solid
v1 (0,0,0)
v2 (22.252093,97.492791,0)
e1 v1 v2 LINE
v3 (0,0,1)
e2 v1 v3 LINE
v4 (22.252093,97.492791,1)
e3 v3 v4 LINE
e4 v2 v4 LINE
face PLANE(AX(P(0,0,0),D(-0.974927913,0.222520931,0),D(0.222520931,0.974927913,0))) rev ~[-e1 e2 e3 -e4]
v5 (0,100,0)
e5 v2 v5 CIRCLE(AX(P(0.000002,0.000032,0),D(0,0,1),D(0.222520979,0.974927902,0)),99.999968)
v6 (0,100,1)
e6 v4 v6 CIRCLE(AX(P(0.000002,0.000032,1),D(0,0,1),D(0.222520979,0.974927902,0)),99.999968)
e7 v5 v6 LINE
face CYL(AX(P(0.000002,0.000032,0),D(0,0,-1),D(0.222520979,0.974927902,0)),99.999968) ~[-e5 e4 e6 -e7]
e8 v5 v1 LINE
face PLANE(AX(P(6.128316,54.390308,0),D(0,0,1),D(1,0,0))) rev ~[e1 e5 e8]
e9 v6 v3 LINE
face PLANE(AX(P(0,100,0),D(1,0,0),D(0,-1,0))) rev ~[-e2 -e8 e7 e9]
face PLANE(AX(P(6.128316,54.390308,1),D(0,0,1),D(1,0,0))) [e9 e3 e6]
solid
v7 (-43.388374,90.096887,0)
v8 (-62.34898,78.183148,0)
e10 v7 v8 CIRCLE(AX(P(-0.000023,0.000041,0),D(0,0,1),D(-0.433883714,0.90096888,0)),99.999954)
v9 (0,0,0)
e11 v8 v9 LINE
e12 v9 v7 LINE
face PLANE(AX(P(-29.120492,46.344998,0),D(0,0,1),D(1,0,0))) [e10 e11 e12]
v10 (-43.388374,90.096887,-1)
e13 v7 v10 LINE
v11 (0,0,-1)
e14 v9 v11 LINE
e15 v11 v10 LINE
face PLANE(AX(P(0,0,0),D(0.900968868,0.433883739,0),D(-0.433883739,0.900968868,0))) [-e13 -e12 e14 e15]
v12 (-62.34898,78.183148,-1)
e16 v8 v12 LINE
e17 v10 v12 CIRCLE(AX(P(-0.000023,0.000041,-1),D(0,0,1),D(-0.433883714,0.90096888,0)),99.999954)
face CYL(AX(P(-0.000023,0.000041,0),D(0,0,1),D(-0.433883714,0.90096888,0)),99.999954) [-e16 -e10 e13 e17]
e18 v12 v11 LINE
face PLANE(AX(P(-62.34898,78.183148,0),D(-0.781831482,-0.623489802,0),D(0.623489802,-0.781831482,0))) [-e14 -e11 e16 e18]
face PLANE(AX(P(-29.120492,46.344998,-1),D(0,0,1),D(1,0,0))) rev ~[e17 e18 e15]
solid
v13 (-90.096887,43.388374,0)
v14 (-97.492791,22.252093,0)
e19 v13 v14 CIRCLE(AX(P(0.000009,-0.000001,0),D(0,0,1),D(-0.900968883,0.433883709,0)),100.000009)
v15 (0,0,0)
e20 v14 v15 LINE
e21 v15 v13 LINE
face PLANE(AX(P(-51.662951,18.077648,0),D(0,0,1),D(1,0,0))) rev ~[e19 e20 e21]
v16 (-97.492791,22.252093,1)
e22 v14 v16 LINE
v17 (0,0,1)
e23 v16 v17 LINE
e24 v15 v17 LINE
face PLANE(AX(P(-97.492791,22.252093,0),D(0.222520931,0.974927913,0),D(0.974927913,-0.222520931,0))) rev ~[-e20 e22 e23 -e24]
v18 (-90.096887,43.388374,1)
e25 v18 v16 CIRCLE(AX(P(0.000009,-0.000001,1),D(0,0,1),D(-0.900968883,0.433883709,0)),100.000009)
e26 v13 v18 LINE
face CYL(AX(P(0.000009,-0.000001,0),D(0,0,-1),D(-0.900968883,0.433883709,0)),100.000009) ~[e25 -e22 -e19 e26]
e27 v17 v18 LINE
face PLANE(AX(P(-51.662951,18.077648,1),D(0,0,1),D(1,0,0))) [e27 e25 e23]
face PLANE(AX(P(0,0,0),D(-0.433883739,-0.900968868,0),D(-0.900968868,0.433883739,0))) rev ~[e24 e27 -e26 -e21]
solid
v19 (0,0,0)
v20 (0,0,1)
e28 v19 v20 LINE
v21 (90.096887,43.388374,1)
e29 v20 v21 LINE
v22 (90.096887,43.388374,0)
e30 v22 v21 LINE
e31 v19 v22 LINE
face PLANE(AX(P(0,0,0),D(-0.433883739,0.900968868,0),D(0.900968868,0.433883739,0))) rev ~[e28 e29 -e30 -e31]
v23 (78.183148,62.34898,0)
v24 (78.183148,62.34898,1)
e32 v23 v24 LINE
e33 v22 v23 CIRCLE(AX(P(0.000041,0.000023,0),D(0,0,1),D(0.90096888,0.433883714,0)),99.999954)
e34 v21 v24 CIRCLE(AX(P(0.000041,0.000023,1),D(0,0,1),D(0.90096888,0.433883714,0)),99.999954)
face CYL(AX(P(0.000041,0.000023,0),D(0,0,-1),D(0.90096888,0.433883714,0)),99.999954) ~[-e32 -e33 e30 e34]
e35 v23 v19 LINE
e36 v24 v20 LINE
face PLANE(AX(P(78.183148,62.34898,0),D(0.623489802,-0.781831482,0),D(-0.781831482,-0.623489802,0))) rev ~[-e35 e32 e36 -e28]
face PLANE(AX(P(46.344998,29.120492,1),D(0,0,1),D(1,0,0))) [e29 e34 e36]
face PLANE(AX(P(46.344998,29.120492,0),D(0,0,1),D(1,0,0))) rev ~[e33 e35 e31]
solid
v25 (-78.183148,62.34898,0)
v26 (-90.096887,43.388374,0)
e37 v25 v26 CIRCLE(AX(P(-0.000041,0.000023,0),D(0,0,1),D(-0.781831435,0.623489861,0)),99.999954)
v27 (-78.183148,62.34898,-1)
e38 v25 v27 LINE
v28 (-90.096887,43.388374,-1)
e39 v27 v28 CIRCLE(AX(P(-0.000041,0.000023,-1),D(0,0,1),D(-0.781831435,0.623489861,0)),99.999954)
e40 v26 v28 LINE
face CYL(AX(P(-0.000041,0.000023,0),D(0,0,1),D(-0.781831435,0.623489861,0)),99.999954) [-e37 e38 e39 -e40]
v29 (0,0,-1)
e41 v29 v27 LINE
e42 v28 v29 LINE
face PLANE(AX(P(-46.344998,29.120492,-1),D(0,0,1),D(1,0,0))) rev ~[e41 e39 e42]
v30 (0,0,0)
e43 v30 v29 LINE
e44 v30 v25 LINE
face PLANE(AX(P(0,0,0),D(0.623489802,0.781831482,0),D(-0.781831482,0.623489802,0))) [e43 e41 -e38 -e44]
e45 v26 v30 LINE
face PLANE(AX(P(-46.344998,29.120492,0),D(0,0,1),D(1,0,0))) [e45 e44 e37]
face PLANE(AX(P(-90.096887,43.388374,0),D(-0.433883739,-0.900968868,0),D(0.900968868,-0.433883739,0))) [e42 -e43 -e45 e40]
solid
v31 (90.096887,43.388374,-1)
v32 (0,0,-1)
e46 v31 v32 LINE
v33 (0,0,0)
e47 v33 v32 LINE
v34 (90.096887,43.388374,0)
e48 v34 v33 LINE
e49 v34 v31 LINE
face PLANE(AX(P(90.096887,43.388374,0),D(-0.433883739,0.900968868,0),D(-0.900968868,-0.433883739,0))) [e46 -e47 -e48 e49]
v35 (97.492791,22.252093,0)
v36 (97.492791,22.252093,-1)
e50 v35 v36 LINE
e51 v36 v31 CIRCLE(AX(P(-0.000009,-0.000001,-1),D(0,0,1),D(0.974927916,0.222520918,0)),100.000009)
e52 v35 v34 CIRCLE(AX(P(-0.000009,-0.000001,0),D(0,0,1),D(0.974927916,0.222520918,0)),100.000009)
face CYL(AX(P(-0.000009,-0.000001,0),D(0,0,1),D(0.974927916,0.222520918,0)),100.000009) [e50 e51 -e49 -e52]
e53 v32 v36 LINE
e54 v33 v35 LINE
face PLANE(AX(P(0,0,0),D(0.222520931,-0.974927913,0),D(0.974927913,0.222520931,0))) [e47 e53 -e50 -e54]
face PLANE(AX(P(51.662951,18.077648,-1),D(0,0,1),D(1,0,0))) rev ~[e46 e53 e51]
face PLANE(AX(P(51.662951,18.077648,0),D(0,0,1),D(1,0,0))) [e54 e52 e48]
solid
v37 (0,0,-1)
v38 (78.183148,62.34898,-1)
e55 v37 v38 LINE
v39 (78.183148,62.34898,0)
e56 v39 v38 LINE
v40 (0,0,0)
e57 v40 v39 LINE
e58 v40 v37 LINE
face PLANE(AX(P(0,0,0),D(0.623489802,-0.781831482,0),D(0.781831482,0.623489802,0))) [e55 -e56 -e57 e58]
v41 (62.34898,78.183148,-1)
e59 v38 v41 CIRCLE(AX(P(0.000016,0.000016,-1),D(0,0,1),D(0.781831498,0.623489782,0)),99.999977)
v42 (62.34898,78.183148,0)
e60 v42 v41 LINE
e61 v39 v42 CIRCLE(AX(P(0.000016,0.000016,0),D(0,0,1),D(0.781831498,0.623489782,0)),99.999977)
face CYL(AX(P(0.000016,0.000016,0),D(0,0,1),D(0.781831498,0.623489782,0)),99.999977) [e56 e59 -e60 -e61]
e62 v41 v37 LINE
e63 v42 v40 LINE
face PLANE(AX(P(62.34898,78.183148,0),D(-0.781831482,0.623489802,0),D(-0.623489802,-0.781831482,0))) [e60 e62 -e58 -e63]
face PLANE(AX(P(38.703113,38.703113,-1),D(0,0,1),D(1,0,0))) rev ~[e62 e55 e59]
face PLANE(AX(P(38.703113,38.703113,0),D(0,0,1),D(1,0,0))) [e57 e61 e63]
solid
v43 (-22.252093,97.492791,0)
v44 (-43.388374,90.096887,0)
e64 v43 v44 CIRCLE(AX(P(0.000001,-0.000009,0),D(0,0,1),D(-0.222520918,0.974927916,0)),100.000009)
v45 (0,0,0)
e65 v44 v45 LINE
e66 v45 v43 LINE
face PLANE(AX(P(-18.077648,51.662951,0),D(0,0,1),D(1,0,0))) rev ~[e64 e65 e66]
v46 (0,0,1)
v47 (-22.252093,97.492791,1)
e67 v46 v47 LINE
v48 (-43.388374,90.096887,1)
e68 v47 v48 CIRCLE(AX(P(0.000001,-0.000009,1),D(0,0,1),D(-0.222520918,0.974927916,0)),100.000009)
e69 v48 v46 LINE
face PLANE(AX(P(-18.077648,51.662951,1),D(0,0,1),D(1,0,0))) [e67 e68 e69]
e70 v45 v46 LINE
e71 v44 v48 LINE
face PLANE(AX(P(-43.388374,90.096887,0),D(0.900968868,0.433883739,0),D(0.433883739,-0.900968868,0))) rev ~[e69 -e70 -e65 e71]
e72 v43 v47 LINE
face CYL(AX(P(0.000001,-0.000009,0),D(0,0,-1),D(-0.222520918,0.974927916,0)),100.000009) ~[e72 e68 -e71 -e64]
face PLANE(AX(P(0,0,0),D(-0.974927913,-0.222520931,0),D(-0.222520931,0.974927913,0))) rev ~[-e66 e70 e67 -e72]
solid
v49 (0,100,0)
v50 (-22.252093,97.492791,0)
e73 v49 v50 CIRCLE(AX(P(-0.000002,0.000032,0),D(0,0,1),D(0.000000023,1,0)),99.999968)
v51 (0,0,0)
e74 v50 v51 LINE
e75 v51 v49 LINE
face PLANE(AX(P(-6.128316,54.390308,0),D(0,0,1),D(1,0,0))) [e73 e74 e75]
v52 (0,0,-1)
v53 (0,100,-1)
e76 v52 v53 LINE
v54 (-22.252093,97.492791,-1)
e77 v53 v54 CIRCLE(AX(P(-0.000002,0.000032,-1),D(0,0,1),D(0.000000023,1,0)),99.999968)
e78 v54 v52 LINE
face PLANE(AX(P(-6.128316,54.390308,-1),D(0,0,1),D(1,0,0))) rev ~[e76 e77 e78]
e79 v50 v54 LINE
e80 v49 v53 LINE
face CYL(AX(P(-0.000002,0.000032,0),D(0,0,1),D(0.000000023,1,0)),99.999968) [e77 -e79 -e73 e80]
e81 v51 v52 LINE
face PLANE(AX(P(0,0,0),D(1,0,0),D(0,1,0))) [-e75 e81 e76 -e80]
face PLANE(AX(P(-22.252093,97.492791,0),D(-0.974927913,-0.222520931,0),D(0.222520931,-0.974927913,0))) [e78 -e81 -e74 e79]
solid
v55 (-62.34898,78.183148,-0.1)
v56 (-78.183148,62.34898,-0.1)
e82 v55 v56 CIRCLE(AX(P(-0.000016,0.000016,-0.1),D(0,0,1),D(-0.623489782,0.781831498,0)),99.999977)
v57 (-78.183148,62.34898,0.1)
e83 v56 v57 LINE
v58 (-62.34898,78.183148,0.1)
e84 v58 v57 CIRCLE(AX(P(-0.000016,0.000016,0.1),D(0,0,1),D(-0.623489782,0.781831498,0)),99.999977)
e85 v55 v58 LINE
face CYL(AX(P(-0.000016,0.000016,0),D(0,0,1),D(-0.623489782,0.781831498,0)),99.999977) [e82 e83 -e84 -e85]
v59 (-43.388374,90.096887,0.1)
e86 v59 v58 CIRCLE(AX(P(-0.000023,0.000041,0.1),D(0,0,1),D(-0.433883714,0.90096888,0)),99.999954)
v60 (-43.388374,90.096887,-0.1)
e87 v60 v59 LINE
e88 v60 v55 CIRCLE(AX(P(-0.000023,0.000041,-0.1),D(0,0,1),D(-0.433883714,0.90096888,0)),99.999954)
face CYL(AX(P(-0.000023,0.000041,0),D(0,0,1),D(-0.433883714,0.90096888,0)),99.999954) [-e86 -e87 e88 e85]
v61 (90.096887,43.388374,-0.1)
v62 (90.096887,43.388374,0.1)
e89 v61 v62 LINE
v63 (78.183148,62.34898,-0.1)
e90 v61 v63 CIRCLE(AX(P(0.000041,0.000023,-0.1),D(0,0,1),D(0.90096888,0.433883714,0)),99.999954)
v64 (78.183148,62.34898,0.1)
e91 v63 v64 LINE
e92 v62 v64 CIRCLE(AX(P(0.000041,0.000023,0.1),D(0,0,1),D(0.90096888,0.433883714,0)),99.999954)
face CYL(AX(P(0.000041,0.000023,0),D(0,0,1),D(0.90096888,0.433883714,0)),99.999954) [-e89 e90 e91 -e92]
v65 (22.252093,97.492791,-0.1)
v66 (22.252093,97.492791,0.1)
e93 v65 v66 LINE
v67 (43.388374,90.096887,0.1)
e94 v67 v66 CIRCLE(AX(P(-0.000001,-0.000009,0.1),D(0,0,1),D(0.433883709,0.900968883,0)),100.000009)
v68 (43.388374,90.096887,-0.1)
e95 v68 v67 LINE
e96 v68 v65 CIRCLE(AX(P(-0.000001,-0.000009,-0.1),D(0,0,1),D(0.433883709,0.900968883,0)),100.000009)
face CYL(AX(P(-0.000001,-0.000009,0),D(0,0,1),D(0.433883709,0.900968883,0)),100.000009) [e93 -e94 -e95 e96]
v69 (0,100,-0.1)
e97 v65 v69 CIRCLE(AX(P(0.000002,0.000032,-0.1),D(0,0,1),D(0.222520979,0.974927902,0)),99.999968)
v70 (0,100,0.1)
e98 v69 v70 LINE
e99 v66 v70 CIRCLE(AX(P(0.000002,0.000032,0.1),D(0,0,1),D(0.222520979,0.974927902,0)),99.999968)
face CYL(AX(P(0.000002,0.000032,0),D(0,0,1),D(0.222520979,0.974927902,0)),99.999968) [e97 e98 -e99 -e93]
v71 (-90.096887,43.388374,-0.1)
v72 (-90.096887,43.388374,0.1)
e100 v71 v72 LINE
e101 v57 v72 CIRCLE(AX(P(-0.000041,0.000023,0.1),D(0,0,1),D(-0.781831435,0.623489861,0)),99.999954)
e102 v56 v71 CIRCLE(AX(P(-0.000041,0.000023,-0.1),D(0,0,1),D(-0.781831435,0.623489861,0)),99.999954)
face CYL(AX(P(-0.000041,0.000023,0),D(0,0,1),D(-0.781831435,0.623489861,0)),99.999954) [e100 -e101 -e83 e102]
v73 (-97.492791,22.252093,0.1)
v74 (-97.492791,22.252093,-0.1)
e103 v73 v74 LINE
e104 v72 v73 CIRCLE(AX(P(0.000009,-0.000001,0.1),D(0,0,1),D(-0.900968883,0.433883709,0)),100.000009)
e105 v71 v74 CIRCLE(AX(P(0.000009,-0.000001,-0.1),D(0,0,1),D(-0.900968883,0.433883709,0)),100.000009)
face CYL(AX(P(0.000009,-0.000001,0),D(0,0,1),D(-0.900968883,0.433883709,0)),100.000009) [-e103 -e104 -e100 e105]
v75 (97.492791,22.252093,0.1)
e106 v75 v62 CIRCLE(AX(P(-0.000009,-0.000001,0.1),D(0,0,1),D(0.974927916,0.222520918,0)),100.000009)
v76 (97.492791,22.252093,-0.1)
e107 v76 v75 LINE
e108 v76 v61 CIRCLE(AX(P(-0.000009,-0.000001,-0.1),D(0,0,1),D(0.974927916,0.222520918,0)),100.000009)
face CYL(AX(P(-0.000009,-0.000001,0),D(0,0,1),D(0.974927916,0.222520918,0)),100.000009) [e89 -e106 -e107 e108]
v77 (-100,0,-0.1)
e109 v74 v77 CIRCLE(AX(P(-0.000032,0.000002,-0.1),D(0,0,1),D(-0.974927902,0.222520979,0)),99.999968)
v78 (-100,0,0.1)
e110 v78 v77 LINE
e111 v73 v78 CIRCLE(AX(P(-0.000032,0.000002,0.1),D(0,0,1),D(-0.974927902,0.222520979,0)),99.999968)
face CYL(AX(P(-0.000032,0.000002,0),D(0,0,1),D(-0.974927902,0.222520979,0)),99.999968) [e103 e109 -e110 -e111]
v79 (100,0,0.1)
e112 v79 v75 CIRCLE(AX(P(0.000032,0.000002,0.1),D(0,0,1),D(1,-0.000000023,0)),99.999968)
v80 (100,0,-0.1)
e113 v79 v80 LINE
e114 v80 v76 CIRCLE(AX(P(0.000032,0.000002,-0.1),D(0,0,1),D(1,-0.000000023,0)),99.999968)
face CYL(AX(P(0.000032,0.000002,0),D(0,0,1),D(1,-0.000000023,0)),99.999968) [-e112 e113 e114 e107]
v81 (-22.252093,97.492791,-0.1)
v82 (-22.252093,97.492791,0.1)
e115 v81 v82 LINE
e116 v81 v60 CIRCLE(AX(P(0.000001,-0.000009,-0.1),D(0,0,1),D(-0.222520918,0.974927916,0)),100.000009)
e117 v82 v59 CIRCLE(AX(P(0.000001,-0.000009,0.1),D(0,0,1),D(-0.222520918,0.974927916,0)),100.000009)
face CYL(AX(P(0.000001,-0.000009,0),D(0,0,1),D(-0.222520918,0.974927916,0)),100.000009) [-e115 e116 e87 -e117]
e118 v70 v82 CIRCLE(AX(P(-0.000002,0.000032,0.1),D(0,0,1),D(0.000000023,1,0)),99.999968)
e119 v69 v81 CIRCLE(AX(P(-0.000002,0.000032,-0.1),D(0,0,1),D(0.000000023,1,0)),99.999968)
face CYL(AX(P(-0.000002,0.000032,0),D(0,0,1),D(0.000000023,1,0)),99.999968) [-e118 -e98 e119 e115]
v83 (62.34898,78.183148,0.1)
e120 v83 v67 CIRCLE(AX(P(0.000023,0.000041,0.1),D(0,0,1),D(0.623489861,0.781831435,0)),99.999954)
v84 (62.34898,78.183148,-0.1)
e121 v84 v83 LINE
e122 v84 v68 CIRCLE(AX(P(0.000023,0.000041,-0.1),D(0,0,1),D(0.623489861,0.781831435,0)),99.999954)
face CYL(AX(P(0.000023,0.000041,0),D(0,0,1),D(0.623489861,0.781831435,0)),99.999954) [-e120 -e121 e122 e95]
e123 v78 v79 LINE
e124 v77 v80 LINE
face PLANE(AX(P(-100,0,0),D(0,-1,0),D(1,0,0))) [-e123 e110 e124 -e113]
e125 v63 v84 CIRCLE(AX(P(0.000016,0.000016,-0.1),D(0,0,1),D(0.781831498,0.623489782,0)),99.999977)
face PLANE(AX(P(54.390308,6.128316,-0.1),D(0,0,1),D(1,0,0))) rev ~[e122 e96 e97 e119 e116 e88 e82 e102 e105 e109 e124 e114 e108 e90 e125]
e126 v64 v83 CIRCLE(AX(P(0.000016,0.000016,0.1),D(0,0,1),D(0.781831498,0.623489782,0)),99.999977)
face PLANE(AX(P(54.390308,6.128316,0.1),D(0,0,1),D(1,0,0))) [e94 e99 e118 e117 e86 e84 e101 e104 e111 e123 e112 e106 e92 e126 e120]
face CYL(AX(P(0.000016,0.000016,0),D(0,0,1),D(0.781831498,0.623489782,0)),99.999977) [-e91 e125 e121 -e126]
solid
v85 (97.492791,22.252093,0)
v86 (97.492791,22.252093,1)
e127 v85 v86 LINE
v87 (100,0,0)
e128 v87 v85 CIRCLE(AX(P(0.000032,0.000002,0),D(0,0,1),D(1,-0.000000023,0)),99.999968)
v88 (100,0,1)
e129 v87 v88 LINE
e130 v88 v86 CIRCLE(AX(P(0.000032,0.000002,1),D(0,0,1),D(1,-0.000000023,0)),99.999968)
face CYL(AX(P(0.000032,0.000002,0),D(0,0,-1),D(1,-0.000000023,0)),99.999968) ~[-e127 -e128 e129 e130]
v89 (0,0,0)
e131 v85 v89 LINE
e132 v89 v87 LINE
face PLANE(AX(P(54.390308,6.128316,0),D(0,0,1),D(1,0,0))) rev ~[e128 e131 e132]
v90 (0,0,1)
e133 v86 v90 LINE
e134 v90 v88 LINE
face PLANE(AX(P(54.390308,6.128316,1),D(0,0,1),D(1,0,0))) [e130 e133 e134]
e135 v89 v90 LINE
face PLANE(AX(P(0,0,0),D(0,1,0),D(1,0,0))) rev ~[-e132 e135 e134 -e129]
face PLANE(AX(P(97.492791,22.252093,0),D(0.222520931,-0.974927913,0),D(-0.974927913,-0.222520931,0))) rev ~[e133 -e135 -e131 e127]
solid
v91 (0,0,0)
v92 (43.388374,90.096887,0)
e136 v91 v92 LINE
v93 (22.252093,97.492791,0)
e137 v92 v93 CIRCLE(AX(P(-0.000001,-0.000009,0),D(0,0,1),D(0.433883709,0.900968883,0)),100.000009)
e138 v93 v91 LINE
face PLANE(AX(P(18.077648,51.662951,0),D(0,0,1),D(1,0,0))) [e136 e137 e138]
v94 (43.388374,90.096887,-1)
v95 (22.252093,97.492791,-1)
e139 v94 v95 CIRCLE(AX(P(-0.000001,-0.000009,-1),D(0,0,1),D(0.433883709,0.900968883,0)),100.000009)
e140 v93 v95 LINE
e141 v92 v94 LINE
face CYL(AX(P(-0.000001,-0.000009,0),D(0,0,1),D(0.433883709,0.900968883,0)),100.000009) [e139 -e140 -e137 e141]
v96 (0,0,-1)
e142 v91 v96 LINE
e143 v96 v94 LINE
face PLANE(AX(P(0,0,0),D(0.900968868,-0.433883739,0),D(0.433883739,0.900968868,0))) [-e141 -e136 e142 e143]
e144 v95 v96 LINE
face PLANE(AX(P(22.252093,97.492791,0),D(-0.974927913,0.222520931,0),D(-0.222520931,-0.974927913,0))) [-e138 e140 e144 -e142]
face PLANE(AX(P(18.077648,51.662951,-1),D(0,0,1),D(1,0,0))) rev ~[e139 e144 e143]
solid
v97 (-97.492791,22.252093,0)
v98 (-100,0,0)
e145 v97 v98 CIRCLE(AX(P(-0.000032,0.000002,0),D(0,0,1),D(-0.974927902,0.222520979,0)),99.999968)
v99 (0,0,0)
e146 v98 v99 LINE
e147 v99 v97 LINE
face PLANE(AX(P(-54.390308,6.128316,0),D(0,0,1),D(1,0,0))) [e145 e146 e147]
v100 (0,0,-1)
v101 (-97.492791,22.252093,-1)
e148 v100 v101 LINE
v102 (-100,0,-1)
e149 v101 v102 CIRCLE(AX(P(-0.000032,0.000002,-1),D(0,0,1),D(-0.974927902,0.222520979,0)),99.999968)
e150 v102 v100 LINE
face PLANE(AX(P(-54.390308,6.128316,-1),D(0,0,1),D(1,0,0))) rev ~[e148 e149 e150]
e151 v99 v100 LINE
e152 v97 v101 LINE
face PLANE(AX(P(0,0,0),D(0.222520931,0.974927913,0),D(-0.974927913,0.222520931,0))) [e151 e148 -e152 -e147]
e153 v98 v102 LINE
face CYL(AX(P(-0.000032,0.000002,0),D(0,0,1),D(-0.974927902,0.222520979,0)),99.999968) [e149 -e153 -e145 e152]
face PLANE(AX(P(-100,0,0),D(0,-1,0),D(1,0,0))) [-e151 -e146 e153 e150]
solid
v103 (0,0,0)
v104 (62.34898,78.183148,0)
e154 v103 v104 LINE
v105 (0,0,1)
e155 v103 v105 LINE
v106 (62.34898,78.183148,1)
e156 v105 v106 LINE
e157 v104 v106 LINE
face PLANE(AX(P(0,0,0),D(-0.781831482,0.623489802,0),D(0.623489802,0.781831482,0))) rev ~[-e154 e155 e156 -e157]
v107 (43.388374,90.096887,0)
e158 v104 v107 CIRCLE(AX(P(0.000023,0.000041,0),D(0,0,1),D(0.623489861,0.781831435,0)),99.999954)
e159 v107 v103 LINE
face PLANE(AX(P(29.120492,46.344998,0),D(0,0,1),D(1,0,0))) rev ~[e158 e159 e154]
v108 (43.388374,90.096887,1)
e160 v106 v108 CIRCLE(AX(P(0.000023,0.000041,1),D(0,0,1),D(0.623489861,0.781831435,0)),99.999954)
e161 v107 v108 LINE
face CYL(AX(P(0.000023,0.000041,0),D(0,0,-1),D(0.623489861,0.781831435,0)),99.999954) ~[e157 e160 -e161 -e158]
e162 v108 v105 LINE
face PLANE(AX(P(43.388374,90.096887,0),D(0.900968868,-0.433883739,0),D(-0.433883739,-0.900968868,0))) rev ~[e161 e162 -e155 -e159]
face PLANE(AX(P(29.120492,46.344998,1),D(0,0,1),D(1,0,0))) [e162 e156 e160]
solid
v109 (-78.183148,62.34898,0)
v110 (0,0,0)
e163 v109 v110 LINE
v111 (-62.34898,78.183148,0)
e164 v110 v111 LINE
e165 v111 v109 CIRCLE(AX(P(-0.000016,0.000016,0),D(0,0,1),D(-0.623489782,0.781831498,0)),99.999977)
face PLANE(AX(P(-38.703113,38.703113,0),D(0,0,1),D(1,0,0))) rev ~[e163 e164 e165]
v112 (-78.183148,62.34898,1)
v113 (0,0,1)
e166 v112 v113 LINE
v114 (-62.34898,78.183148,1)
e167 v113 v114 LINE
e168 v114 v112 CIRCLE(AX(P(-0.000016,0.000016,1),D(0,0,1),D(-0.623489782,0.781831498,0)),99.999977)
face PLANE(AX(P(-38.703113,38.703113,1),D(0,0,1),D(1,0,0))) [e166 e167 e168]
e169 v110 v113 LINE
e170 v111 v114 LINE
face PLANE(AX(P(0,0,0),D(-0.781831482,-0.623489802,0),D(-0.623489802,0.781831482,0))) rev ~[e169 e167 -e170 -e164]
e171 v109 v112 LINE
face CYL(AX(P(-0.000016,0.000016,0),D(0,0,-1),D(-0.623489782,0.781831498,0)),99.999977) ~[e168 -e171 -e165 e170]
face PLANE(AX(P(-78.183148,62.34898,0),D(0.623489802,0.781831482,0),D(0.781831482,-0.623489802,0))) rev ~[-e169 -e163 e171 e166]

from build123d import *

# Parameters (mm, degrees)
F1_DEPTH = 0.1
F2_DEPTH = 1
F3_DEPTH = 1


with BuildPart() as f1:
    # F0 (on Top) → F1 (new body, symmetric)
    with BuildSketch(Plane.XY):
        with BuildLine():
            Line((97.492791, 22.252093), (0, 0))
            Line((0, 0), (100, 0))
            ThreePointArc((100, 0), (99.371221, 11.196448), (97.492791, 22.252093))
        make_face()
        with BuildLine():
            Line((-100, 0), (0, 0))
            Line((0, 0), (-97.492791, 22.252093))
            ThreePointArc((-97.492791, 22.252093), (-99.371221, 11.196448), (-100, 0))
        make_face()
        with BuildLine():
            Line((-97.492791, 22.252093), (0, 0))
            Line((0, 0), (-90.096887, 43.388374))
            ThreePointArc((-90.096887, 43.388374), (-94.388333, 33.027906), (-97.492791, 22.252093))
        make_face()
        with BuildLine():
            Line((-90.096887, 43.388374), (0, 0))
            Line((0, 0), (-78.183148, 62.34898))
            ThreePointArc((-78.183148, 62.34898), (-84.67242, 53.203208), (-90.096887, 43.388374))
        make_face()
        with BuildLine():
            Line((-78.183148, 62.34898), (0, 0))
            Line((0, 0), (-62.34898, 78.183148))
            ThreePointArc((-62.34898, 78.183148), (-70.710678, 70.710678), (-78.183148, 62.34898))
        make_face()
        with BuildLine():
            Line((-62.34898, 78.183148), (0, 0))
            Line((0, 0), (-43.388374, 90.096887))
            ThreePointArc((-43.388374, 90.096887), (-53.203208, 84.67242), (-62.34898, 78.183148))
        make_face()
        with BuildLine():
            Line((-43.388374, 90.096887), (0, 0))
            Line((0, 0), (-22.252093, 97.492791))
            ThreePointArc((-22.252093, 97.492791), (-33.027906, 94.388333), (-43.388374, 90.096887))
        make_face()
        with BuildLine():
            Line((-22.252093, 97.492791), (0, 0))
            Line((0, 0), (0, 100))
            ThreePointArc((0, 100), (-11.196448, 99.371221), (-22.252093, 97.492791))
        make_face()
        with BuildLine():
            Line((0, 100), (0, 0))
            Line((0, 0), (22.252093, 97.492791))
            ThreePointArc((22.252093, 97.492791), (11.196448, 99.371221), (0, 100))
        make_face()
        with BuildLine():
            Line((22.252093, 97.492791), (0, 0))
            Line((0, 0), (43.388374, 90.096887))
            ThreePointArc((43.388374, 90.096887), (33.027906, 94.388333), (22.252093, 97.492791))
        make_face()
        with BuildLine():
            Line((43.388374, 90.096887), (0, 0))
            Line((0, 0), (62.34898, 78.183148))
            ThreePointArc((62.34898, 78.183148), (53.203208, 84.67242), (43.388374, 90.096887))
        make_face()
        with BuildLine():
            Line((62.34898, 78.183148), (0, 0))
            Line((0, 0), (78.183148, 62.34898))
            ThreePointArc((78.183148, 62.34898), (70.710678, 70.710678), (62.34898, 78.183148))
        make_face()
        with BuildLine():
            Line((78.183148, 62.34898), (0, 0))
            Line((0, 0), (90.096887, 43.388374))
            ThreePointArc((90.096887, 43.388374), (84.67242, 53.203208), (78.183148, 62.34898))
        make_face()
        with BuildLine():
            Line((90.096887, 43.388374), (0, 0))
            Line((0, 0), (97.492791, 22.252093))
            ThreePointArc((97.492791, 22.252093), (94.388333, 33.027906), (90.096887, 43.388374))
        make_face()
    extrude(amount=F1_DEPTH, both=True)


with BuildPart() as f2:
    # F0 (on Top) → F2 (new body)
    with BuildSketch(Plane.XY):
        with BuildLine():
            Line((-100, 0), (0, 0))
            Line((0, 0), (-97.492791, 22.252093))
            ThreePointArc((-97.492791, 22.252093), (-99.371221, 11.196448), (-100, 0))
        make_face()
        with BuildLine():
            Line((-90.096887, 43.388374), (0, 0))
            Line((0, 0), (-78.183148, 62.34898))
            ThreePointArc((-78.183148, 62.34898), (-84.67242, 53.203208), (-90.096887, 43.388374))
        make_face()
        with BuildLine():
            Line((-62.34898, 78.183148), (0, 0))
            Line((0, 0), (-43.388374, 90.096887))
            ThreePointArc((-43.388374, 90.096887), (-53.203208, 84.67242), (-62.34898, 78.183148))
        make_face()
        with BuildLine():
            Line((-22.252093, 97.492791), (0, 0))
            Line((0, 0), (0, 100))
            ThreePointArc((0, 100), (-11.196448, 99.371221), (-22.252093, 97.492791))
        make_face()
        with BuildLine():
            Line((22.252093, 97.492791), (0, 0))
            Line((0, 0), (43.388374, 90.096887))
            ThreePointArc((43.388374, 90.096887), (33.027906, 94.388333), (22.252093, 97.492791))
        make_face()
        with BuildLine():
            Line((62.34898, 78.183148), (0, 0))
            Line((0, 0), (78.183148, 62.34898))
            ThreePointArc((78.183148, 62.34898), (70.710678, 70.710678), (62.34898, 78.183148))
        make_face()
        with BuildLine():
            Line((90.096887, 43.388374), (0, 0))
            Line((0, 0), (97.492791, 22.252093))
            ThreePointArc((97.492791, 22.252093), (94.388333, 33.027906), (90.096887, 43.388374))
        make_face()
    extrude(amount=-F2_DEPTH)


with BuildPart() as f3:
    # F0 (on Top) → F3 (new body)
    with BuildSketch(Plane.XY):
        with BuildLine():
            Line((-97.492791, 22.252093), (0, 0))
            Line((0, 0), (-90.096887, 43.388374))
            ThreePointArc((-90.096887, 43.388374), (-94.388333, 33.027906), (-97.492791, 22.252093))
        make_face()
        with BuildLine():
            Line((-78.183148, 62.34898), (0, 0))
            Line((0, 0), (-62.34898, 78.183148))
            ThreePointArc((-62.34898, 78.183148), (-70.710678, 70.710678), (-78.183148, 62.34898))
        make_face()
        with BuildLine():
            Line((-43.388374, 90.096887), (0, 0))
            Line((0, 0), (-22.252093, 97.492791))
            ThreePointArc((-22.252093, 97.492791), (-33.027906, 94.388333), (-43.388374, 90.096887))
        make_face()
        with BuildLine():
            Line((0, 100), (0, 0))
            Line((0, 0), (22.252093, 97.492791))
            ThreePointArc((22.252093, 97.492791), (11.196448, 99.371221), (0, 100))
        make_face()
        with BuildLine():
            Line((43.388374, 90.096887), (0, 0))
            Line((0, 0), (62.34898, 78.183148))
            ThreePointArc((62.34898, 78.183148), (53.203208, 84.67242), (43.388374, 90.096887))
        make_face()
        with BuildLine():
            Line((78.183148, 62.34898), (0, 0))
            Line((0, 0), (90.096887, 43.388374))
            ThreePointArc((90.096887, 43.388374), (84.67242, 53.203208), (78.183148, 62.34898))
        make_face()
        with BuildLine():
            Line((97.492791, 22.252093), (0, 0))
            Line((0, 0), (100, 0))
            ThreePointArc((100, 0), (99.371221, 11.196448), (97.492791, 22.252093))
        make_face()
    extrude(amount=F3_DEPTH)


solid = Compound([f1.part, f2.part, f3.part])
